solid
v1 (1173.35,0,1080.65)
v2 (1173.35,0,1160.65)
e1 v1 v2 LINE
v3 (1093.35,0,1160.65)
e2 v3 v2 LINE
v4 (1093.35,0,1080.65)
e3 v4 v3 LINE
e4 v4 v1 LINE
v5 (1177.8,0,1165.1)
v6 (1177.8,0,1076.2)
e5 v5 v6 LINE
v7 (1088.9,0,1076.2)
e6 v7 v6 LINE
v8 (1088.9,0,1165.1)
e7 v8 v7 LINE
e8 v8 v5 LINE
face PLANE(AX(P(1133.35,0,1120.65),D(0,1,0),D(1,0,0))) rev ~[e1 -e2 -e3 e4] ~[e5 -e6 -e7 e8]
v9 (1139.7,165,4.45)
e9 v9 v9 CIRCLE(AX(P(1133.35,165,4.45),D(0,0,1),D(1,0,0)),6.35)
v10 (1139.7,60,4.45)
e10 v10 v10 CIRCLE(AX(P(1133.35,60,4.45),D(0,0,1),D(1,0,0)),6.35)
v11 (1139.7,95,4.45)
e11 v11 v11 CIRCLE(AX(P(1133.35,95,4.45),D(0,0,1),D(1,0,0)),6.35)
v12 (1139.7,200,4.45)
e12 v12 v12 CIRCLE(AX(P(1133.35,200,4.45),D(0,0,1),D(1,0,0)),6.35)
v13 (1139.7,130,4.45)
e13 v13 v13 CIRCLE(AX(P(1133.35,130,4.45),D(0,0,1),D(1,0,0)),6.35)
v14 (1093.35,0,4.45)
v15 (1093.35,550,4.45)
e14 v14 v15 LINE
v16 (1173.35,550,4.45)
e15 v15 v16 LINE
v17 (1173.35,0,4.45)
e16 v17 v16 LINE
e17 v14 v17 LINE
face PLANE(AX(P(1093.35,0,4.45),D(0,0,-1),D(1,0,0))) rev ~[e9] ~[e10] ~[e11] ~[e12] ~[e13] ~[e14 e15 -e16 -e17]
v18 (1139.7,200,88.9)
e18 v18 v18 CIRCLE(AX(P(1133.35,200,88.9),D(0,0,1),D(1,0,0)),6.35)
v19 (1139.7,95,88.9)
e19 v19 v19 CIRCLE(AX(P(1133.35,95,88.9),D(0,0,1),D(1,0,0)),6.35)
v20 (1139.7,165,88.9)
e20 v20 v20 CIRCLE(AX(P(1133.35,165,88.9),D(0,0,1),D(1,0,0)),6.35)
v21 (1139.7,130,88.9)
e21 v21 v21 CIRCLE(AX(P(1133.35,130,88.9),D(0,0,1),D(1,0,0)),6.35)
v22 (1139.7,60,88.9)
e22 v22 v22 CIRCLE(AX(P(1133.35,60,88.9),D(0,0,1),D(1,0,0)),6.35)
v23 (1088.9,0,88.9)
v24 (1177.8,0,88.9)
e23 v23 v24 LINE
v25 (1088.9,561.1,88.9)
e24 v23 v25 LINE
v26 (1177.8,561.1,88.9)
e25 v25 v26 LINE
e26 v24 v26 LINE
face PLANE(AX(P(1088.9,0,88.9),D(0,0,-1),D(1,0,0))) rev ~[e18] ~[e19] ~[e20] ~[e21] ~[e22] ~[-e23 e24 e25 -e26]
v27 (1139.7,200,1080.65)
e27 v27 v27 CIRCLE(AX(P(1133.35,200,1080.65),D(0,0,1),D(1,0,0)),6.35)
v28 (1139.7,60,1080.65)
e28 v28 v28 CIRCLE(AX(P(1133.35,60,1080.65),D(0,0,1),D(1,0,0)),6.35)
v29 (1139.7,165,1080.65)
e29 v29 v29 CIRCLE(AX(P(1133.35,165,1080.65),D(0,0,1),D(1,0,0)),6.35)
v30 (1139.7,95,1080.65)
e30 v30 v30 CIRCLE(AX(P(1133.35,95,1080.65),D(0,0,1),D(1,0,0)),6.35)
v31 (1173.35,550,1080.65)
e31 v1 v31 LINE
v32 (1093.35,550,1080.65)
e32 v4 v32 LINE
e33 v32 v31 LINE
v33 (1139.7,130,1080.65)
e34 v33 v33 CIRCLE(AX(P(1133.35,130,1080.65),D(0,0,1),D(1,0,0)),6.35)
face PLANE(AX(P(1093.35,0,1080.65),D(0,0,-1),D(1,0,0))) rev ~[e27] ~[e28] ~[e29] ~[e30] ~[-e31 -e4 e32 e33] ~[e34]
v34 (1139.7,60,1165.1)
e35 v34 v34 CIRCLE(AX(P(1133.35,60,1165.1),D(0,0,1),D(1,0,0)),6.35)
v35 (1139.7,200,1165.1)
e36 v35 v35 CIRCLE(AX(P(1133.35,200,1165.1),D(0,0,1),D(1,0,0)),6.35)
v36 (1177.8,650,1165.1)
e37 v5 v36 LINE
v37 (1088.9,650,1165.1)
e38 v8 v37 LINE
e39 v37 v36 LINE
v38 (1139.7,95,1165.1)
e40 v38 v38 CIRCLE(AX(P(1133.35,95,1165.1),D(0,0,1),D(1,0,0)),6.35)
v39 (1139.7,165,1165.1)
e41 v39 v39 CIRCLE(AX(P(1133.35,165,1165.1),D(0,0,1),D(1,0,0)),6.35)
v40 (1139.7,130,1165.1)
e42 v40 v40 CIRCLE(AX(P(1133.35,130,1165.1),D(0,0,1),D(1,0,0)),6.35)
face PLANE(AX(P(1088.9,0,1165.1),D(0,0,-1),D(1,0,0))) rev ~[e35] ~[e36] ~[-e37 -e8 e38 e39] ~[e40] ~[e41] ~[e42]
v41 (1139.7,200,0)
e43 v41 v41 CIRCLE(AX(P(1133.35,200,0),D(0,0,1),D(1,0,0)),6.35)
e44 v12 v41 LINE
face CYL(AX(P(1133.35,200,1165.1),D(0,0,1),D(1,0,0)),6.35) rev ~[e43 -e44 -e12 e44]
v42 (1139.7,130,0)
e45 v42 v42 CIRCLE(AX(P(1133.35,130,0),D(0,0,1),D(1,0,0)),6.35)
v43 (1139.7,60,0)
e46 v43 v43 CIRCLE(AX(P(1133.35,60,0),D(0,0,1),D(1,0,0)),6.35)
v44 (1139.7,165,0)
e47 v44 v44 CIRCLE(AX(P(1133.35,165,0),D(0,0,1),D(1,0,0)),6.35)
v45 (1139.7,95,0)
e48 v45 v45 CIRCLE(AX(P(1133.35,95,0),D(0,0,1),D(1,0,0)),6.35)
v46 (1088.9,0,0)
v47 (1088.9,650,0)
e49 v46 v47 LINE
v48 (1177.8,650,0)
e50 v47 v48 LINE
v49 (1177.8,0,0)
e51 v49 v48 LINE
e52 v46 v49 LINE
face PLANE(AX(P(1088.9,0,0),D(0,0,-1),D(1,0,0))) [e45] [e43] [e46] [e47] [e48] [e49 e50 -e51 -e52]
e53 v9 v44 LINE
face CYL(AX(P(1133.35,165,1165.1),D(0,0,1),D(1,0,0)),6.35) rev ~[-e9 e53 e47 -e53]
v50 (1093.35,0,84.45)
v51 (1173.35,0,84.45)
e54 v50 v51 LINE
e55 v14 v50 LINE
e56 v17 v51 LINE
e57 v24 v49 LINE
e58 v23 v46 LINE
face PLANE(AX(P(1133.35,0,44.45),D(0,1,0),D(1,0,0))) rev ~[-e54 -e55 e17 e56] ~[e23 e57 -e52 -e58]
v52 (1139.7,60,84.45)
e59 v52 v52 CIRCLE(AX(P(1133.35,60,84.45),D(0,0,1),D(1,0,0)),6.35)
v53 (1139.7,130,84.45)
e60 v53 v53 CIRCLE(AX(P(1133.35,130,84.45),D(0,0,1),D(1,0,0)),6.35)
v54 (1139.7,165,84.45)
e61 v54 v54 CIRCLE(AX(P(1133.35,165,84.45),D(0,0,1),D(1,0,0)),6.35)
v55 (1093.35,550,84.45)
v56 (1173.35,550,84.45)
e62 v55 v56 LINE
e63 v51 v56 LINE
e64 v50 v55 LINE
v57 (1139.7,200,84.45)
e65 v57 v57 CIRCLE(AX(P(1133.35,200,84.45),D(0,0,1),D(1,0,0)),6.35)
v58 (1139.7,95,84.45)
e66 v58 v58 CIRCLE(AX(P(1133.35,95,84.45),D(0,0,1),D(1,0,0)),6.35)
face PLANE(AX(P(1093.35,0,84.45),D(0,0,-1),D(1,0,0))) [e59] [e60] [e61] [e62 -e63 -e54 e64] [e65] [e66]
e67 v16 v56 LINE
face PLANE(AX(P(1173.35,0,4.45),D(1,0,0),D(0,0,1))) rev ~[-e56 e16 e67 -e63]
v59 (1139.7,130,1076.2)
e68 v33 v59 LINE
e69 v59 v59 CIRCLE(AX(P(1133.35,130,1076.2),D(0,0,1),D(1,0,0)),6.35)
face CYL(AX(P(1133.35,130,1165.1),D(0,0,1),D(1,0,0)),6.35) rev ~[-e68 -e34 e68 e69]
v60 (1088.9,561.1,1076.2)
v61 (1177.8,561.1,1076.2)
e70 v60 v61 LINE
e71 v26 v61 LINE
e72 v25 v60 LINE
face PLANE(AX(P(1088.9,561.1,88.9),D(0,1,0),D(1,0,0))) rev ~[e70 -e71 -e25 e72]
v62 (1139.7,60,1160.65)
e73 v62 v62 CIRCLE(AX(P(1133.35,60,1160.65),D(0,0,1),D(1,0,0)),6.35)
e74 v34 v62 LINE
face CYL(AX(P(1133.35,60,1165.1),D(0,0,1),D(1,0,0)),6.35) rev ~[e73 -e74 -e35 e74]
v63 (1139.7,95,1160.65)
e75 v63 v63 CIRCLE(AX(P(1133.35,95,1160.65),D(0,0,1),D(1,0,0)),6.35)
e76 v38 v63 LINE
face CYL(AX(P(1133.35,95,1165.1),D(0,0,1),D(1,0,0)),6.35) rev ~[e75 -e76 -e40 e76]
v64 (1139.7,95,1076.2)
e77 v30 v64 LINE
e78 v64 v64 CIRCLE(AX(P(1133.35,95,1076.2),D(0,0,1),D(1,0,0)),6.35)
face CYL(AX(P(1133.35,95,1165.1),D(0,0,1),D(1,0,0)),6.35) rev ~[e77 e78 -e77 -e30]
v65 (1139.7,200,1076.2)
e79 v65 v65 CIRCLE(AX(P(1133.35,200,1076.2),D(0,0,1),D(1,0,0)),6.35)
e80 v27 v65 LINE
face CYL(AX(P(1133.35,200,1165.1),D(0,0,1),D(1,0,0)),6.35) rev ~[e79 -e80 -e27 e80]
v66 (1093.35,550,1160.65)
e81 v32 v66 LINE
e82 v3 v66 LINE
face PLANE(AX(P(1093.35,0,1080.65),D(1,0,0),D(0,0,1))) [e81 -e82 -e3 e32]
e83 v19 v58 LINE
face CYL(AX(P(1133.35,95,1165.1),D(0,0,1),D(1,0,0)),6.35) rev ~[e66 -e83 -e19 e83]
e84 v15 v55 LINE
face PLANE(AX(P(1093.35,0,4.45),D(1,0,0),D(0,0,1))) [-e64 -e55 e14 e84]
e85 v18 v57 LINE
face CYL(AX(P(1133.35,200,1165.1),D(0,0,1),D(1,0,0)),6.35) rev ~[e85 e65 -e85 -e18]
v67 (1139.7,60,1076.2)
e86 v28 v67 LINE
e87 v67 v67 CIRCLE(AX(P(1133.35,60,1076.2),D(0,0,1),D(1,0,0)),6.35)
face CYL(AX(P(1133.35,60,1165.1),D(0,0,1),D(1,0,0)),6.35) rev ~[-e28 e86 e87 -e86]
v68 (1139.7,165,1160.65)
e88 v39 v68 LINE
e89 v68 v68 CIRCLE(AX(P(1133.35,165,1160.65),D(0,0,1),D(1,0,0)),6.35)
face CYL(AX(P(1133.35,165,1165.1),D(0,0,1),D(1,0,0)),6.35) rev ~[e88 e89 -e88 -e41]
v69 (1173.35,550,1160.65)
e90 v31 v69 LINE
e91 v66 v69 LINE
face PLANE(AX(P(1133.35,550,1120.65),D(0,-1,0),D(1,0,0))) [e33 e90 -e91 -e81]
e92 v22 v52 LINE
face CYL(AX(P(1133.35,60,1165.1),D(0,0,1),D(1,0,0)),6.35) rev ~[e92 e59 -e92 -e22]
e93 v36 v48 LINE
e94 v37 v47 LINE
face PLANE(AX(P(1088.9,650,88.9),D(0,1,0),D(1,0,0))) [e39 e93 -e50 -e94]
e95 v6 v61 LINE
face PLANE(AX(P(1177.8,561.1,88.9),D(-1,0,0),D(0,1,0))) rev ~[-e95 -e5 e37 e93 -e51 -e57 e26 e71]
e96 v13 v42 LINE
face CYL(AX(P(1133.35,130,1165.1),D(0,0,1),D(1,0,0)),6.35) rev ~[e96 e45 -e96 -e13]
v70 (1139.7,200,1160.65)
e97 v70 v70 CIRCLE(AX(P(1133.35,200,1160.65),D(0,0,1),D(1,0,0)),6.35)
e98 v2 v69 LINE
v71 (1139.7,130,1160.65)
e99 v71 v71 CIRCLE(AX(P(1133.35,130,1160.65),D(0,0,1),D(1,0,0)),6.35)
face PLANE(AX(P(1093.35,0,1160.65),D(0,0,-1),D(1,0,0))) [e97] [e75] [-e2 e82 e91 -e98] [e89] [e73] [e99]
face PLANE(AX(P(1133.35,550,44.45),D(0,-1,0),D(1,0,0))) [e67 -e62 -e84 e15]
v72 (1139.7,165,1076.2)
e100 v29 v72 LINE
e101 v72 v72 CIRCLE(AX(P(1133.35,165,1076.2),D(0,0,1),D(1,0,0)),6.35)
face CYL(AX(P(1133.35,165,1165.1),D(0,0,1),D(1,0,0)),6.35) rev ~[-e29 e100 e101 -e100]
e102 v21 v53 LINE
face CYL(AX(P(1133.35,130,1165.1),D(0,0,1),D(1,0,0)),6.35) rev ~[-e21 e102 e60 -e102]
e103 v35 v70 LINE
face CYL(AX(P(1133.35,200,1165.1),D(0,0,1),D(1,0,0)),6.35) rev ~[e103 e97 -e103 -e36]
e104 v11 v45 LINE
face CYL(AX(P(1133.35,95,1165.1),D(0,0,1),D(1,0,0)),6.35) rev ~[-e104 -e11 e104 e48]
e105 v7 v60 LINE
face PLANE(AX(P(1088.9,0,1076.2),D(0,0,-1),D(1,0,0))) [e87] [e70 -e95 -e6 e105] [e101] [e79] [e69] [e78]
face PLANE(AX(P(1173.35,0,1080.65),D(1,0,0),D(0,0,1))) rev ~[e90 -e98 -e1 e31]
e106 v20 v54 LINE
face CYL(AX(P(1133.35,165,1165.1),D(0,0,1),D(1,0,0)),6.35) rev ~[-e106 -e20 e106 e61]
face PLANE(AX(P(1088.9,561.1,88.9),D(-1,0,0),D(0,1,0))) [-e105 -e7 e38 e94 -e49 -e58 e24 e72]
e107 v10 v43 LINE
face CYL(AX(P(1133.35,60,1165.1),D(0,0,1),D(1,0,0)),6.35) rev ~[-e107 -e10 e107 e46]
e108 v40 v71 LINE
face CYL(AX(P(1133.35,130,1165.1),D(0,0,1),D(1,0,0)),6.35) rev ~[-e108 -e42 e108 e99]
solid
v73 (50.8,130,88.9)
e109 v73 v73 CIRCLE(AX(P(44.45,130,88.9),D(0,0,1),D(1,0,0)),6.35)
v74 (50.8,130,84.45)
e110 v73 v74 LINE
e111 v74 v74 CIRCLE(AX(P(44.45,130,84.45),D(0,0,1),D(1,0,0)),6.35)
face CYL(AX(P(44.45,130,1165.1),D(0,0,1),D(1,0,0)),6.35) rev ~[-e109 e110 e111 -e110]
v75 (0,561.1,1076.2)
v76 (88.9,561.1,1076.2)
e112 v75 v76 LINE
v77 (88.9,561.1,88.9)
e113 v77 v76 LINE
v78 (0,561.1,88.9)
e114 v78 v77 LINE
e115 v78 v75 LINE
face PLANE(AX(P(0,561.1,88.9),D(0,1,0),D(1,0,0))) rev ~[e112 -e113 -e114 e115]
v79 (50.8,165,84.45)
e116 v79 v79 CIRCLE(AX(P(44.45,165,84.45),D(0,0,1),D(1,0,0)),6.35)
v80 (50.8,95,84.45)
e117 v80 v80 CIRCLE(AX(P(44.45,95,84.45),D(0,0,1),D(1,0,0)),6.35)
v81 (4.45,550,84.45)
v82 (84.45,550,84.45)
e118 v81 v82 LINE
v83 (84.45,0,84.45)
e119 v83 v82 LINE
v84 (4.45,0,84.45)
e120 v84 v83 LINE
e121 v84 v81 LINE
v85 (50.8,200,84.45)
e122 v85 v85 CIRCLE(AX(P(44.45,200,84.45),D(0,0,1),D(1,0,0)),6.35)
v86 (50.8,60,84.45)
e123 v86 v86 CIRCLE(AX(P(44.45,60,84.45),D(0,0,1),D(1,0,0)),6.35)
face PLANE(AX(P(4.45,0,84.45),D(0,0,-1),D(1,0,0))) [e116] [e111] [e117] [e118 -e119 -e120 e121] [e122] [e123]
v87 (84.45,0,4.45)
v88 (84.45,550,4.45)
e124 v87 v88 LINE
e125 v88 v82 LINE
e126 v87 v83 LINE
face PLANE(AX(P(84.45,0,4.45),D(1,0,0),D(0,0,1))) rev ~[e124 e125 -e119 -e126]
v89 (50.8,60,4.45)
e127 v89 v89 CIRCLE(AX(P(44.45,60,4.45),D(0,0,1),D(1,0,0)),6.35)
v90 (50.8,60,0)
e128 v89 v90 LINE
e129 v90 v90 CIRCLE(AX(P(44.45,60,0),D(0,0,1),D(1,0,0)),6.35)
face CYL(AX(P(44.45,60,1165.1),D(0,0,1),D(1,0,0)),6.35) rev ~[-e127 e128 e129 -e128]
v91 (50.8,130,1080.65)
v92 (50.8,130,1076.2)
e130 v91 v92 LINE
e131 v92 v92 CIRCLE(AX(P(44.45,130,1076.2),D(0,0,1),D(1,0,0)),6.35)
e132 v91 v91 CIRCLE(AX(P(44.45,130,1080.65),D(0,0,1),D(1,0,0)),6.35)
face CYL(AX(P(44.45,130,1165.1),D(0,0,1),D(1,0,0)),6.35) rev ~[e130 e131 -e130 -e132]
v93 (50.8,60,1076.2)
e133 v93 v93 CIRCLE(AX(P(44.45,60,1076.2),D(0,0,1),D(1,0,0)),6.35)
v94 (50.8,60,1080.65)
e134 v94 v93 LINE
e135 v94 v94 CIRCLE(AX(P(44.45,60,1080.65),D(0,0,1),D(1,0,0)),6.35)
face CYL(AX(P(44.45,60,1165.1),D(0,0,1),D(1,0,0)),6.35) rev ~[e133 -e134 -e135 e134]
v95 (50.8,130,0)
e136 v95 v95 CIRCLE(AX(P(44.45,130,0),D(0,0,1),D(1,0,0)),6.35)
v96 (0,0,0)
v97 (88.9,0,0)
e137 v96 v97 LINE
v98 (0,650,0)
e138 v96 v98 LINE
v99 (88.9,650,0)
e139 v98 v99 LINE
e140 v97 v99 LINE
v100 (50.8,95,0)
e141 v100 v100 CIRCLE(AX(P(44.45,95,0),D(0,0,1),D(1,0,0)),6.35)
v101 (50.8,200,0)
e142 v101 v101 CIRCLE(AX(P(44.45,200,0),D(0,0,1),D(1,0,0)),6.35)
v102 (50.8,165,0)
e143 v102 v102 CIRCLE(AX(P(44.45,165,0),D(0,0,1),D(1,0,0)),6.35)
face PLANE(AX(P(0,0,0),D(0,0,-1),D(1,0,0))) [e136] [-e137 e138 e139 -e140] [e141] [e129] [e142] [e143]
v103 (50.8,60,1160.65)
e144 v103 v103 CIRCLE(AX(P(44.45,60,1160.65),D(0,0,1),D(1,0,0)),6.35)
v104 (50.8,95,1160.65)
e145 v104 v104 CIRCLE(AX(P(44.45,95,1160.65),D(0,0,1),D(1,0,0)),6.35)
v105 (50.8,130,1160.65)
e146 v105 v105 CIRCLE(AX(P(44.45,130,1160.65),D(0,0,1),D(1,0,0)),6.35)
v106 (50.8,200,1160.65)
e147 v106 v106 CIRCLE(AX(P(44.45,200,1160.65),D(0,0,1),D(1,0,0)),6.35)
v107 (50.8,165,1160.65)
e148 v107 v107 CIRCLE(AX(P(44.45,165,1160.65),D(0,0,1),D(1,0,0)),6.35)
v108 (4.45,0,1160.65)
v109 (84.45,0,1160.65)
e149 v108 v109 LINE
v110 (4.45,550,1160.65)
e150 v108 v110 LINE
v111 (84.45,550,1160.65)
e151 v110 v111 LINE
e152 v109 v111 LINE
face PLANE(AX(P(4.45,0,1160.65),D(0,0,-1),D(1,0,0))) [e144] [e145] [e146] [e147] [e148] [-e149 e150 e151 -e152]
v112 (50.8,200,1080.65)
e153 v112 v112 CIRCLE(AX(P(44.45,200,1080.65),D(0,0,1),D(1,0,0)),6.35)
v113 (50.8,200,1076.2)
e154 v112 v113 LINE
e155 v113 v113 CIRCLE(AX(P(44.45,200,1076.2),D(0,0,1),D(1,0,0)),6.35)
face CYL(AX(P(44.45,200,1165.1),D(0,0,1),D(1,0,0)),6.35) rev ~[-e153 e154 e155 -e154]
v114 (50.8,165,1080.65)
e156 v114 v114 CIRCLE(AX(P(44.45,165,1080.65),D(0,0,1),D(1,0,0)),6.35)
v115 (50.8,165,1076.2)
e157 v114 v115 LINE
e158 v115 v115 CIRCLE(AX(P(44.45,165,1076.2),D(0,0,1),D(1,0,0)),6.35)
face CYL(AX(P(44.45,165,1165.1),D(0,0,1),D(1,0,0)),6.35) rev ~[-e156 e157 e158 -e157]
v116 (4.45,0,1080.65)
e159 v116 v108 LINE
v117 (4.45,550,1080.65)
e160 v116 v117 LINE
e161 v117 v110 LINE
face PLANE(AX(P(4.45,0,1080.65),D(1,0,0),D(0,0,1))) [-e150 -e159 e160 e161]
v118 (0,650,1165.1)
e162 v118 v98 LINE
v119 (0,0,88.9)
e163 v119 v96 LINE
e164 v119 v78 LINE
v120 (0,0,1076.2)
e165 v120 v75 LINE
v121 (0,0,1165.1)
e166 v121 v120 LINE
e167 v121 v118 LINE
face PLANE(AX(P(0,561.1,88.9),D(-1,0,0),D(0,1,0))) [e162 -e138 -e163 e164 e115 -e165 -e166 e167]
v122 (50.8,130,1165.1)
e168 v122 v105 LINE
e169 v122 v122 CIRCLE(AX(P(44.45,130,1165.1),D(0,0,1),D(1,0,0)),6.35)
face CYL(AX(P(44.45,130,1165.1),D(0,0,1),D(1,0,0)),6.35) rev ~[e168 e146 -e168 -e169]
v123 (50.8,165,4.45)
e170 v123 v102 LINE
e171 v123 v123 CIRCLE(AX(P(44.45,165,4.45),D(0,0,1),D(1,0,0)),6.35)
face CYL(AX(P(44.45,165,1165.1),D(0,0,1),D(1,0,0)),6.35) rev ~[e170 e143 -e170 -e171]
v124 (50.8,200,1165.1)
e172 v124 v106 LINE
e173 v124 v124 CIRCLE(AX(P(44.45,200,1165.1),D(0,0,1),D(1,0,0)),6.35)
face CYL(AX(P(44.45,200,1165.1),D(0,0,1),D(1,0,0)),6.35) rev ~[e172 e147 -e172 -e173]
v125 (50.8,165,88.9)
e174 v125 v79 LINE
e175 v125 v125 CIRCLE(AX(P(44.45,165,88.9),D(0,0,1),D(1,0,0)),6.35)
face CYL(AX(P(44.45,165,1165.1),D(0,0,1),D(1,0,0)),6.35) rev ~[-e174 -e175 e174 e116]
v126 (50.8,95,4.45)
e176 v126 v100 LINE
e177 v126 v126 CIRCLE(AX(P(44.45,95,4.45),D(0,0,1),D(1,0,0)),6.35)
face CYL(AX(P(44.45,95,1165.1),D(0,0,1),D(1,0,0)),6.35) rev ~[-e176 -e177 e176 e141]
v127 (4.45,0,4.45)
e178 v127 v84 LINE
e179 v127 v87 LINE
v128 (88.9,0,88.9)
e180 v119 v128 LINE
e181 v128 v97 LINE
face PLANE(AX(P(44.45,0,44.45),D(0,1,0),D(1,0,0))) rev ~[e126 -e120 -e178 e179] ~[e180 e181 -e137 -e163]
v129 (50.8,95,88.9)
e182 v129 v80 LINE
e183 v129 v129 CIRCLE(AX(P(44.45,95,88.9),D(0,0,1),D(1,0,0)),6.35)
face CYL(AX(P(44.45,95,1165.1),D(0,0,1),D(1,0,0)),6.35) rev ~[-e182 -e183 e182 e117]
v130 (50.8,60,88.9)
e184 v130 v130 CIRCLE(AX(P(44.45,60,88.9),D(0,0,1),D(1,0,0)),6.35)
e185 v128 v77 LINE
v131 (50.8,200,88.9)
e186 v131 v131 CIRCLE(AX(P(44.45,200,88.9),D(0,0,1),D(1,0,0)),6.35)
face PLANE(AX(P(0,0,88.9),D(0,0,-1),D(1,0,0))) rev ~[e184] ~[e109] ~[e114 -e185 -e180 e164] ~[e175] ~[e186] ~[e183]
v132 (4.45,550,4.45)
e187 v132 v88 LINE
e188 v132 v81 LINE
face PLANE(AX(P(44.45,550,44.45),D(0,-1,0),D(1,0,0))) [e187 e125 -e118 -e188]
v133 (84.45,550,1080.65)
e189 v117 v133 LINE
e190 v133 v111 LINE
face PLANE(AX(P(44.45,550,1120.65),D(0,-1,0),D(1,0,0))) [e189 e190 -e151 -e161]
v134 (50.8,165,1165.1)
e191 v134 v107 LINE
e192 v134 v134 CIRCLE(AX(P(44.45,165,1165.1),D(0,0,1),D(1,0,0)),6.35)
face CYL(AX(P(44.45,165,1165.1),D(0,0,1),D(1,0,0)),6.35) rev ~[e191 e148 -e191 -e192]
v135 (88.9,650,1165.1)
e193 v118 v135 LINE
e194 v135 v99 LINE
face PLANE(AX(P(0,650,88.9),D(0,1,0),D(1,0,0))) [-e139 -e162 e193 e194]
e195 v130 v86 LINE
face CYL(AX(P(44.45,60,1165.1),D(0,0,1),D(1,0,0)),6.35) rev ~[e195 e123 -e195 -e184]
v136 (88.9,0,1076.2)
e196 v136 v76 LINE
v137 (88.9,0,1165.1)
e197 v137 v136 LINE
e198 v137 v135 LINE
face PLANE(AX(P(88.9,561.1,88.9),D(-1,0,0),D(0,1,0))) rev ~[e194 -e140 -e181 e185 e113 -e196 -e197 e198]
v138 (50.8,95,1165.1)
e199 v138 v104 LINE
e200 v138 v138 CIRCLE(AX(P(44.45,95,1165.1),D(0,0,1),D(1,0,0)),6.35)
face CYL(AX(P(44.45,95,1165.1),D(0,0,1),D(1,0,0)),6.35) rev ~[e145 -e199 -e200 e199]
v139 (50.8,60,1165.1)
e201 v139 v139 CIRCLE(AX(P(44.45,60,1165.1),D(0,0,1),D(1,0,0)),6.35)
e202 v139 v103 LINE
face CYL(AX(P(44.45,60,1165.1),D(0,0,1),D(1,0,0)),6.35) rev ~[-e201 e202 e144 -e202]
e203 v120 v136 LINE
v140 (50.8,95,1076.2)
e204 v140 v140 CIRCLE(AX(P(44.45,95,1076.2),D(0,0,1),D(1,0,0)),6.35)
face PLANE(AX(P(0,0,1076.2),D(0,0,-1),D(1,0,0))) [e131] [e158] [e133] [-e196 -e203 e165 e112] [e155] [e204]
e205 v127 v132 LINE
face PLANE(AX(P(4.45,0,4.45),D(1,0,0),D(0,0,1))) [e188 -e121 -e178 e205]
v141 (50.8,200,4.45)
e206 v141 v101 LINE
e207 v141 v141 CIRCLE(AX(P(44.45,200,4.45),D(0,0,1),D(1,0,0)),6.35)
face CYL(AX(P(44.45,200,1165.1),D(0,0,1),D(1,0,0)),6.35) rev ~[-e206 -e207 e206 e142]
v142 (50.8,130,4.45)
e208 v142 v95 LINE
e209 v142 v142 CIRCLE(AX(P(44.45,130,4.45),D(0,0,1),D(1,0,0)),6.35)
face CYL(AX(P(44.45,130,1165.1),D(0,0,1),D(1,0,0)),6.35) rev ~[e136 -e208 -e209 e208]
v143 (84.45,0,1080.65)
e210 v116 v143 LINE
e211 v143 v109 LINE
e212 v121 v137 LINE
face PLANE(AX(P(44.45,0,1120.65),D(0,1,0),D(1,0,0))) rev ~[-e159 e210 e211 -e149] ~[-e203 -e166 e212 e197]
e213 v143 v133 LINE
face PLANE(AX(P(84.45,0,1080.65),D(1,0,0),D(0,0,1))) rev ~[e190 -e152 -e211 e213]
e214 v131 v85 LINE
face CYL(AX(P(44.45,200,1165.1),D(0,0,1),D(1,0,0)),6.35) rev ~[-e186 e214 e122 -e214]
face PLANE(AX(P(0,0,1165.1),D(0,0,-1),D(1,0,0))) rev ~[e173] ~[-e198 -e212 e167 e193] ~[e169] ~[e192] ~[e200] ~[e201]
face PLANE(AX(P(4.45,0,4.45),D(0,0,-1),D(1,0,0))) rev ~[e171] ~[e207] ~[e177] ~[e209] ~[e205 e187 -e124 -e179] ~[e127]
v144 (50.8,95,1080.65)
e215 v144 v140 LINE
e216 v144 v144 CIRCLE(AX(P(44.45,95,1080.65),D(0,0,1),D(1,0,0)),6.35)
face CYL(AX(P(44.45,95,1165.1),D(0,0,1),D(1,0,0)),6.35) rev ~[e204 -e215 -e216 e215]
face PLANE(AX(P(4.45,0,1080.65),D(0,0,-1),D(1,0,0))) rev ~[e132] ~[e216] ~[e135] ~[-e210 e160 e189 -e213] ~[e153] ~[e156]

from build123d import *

# Parameters (mm, degrees)
CROQUIS1_W                = 88.9
CROQUIS1_H                = 88.9
SALIENTE_EXTRUIR1_DEPTH   = 650
SALIENTE_EXTRUIR1_2_DEPTH = 650
SALIENTE_EXTRUIR1_3_DEPTH = 650
SALIENTE_EXTRUIR1_4_DEPTH = 650
CROQUIS7_W                = 80
CROQUIS7_H                = 80
CORTAR_EXTRUIR5_DEPTH     = 550
CROQUIS8_W                = 80
CROQUIS8_H                = 80
CORTAR_EXTRUIR6_DEPTH     = 550
CROQUIS9_R                = 6.35
CORTAR_EXTRUIR7_DEPTH     = 1200
CROQUIS10_R               = 6.35
CORTAR_EXTRUIR8_DEPTH     = 1200
CROQUIS12_W               = 88.9
CROQUIS12_H               = 88.9
SALIENTE_EXTRUIR3_DEPTH   = 987.3
CROQUIS13_W               = 88.9
CROQUIS13_H               = 88.9
SALIENTE_EXTRUIR4_DEPTH   = 987.3


with BuildPart() as part:
    # Croquis1 → Saliente-Extruir1 (new body)
    with BuildSketch(Plane(origin=(0, 0, 0), x_dir=(1, 0, 0), z_dir=(0, 1, 0))):
        with Locations((44.45, -44.45)):
            Rectangle(CROQUIS1_W, CROQUIS1_H)
    extrude(amount=SALIENTE_EXTRUIR1_DEPTH)


with BuildPart() as body_2:
    # Croquis1 → Saliente-Extruir1 2 (new body)
    with BuildSketch(Plane(origin=(0, 0, 0), x_dir=(1, 0, 0), z_dir=(0, 1, 0))):
        with Locations((1133.35, -44.45)):
            Rectangle(CROQUIS1_W, CROQUIS1_H)
    extrude(amount=SALIENTE_EXTRUIR1_2_DEPTH)


with BuildPart() as body_3:
    # Croquis1 → Saliente-Extruir1 3 (new body)
    with BuildSketch(Plane(origin=(0, 0, 0), x_dir=(1, 0, 0), z_dir=(0, 1, 0))):
        with Locations((1133.35, -1120.65)):
            Rectangle(CROQUIS1_W, CROQUIS1_H)
    extrude(amount=SALIENTE_EXTRUIR1_3_DEPTH)


with BuildPart() as body_4:
    # Croquis1 → Saliente-Extruir1 4 (new body)
    with BuildSketch(Plane(origin=(0, 0, 0), x_dir=(1, 0, 0), z_dir=(0, 1, 0))):
        with Locations((44.45, -1120.65)):
            Rectangle(CROQUIS1_W, CROQUIS1_H)
    extrude(amount=SALIENTE_EXTRUIR1_4_DEPTH)


with BuildPart() as cortar_extruir5_tool:
    # Croquis7 → Cortar-Extruir5 (new body)
    with BuildSketch(Plane.XZ):
        with Locations((1133.35, 44.45)):
            Rectangle(CROQUIS7_W, CROQUIS7_H)
        with Locations((44.45, 44.45)):
            Rectangle(CROQUIS7_W, CROQUIS7_H)
    extrude(amount=-CORTAR_EXTRUIR5_DEPTH)


with BuildPart() as part_1:
    add(part.part)

    # Cortar-Extruir5: cut by cortar_extruir5_tool
    add(cortar_extruir5_tool.part, mode=Mode.SUBTRACT)


with BuildPart() as body_2_1:
    add(body_2.part)

    # Cortar-Extruir5: cut by cortar_extruir5_tool
    add(cortar_extruir5_tool.part, mode=Mode.SUBTRACT)


with BuildPart() as cortar_extruir6_tool:
    # Croquis8 → Cortar-Extruir6 (new body)
    with BuildSketch(Plane.XZ):
        with Locations((1133.35, 1120.65)):
            Rectangle(CROQUIS8_W, CROQUIS8_H)
        with Locations((44.45, 1120.65)):
            Rectangle(CROQUIS8_W, CROQUIS8_H)
    extrude(amount=-CORTAR_EXTRUIR6_DEPTH)


with BuildPart() as body_3_1:
    add(body_3.part)

    # Cortar-Extruir6: cut by cortar_extruir6_tool
    add(cortar_extruir6_tool.part, mode=Mode.SUBTRACT)


with BuildPart() as body_4_1:
    add(body_4.part)

    # Cortar-Extruir6: cut by cortar_extruir6_tool
    add(cortar_extruir6_tool.part, mode=Mode.SUBTRACT)


with BuildPart() as cortar_extruir7_tool:
    # Croquis9 → Cortar-Extruir7 (new body)
    with BuildSketch(Plane.XY.offset(1165.1)):
        with Locations((44.45, 60)):
            Circle(CROQUIS9_R)
        with Locations((44.45, 95)):
            Circle(CROQUIS9_R)
        with Locations((44.45, 130)):
            Circle(CROQUIS9_R)
        with Locations((44.45, 165)):
            Circle(CROQUIS9_R)
        with Locations((44.45, 200)):
            Circle(CROQUIS9_R)
    extrude(amount=-CORTAR_EXTRUIR7_DEPTH)


with BuildPart() as part_2:
    add(part_1.part)

    # Cortar-Extruir7: cut by cortar_extruir7_tool
    add(cortar_extruir7_tool.part, mode=Mode.SUBTRACT)



with BuildPart() as body_4_2:
    add(body_4_1.part)

    # Cortar-Extruir7: cut by cortar_extruir7_tool
    add(cortar_extruir7_tool.part, mode=Mode.SUBTRACT)


with BuildPart() as cortar_extruir8_tool:
    # Croquis10 → Cortar-Extruir8 (new body)
    with BuildSketch(Plane.XY.offset(1165.1)):
        with Locations((1133.35, 60)):
            Circle(CROQUIS10_R)
        with Locations((1133.35, 95)):
            Circle(CROQUIS10_R)
        with Locations((1133.35, 130)):
            Circle(CROQUIS10_R)
        with Locations((1133.35, 165)):
            Circle(CROQUIS10_R)
        with Locations((1133.35, 200)):
            Circle(CROQUIS10_R)
    extrude(amount=-CORTAR_EXTRUIR8_DEPTH)


with BuildPart() as body_2_2:
    add(body_2_1.part)

    # Cortar-Extruir8: cut by cortar_extruir8_tool
    add(cortar_extruir8_tool.part, mode=Mode.SUBTRACT)



with BuildPart() as body_3_2:
    add(body_3_1.part)

    # Cortar-Extruir8: cut by cortar_extruir8_tool
    add(cortar_extruir8_tool.part, mode=Mode.SUBTRACT)


with BuildPart() as part_3:
    add(part_2.part)

    add(body_4_2.part)  # Saliente-Extruir3 merges body 4
    # Croquis12 → Saliente-Extruir3 (add)
    with BuildSketch(Plane.XY.offset(88.9)):
        with Locations((44.45, 605.55)):
            Rectangle(CROQUIS12_W, CROQUIS12_H)
    extrude(amount=SALIENTE_EXTRUIR3_DEPTH)


with BuildPart() as body_2_3:
    add(body_2_2.part)

    add(body_3_2.part)  # Saliente-Extruir4 merges body 3
    # Croquis13 → Saliente-Extruir4 (add)
    with BuildSketch(Plane.XY.offset(88.9)):
        with Locations((1133.35, 605.55)):
            Rectangle(CROQUIS13_W, CROQUIS13_H)
    extrude(amount=SALIENTE_EXTRUIR4_DEPTH)


solid = Compound([part_3.part, body_2_3.part])
